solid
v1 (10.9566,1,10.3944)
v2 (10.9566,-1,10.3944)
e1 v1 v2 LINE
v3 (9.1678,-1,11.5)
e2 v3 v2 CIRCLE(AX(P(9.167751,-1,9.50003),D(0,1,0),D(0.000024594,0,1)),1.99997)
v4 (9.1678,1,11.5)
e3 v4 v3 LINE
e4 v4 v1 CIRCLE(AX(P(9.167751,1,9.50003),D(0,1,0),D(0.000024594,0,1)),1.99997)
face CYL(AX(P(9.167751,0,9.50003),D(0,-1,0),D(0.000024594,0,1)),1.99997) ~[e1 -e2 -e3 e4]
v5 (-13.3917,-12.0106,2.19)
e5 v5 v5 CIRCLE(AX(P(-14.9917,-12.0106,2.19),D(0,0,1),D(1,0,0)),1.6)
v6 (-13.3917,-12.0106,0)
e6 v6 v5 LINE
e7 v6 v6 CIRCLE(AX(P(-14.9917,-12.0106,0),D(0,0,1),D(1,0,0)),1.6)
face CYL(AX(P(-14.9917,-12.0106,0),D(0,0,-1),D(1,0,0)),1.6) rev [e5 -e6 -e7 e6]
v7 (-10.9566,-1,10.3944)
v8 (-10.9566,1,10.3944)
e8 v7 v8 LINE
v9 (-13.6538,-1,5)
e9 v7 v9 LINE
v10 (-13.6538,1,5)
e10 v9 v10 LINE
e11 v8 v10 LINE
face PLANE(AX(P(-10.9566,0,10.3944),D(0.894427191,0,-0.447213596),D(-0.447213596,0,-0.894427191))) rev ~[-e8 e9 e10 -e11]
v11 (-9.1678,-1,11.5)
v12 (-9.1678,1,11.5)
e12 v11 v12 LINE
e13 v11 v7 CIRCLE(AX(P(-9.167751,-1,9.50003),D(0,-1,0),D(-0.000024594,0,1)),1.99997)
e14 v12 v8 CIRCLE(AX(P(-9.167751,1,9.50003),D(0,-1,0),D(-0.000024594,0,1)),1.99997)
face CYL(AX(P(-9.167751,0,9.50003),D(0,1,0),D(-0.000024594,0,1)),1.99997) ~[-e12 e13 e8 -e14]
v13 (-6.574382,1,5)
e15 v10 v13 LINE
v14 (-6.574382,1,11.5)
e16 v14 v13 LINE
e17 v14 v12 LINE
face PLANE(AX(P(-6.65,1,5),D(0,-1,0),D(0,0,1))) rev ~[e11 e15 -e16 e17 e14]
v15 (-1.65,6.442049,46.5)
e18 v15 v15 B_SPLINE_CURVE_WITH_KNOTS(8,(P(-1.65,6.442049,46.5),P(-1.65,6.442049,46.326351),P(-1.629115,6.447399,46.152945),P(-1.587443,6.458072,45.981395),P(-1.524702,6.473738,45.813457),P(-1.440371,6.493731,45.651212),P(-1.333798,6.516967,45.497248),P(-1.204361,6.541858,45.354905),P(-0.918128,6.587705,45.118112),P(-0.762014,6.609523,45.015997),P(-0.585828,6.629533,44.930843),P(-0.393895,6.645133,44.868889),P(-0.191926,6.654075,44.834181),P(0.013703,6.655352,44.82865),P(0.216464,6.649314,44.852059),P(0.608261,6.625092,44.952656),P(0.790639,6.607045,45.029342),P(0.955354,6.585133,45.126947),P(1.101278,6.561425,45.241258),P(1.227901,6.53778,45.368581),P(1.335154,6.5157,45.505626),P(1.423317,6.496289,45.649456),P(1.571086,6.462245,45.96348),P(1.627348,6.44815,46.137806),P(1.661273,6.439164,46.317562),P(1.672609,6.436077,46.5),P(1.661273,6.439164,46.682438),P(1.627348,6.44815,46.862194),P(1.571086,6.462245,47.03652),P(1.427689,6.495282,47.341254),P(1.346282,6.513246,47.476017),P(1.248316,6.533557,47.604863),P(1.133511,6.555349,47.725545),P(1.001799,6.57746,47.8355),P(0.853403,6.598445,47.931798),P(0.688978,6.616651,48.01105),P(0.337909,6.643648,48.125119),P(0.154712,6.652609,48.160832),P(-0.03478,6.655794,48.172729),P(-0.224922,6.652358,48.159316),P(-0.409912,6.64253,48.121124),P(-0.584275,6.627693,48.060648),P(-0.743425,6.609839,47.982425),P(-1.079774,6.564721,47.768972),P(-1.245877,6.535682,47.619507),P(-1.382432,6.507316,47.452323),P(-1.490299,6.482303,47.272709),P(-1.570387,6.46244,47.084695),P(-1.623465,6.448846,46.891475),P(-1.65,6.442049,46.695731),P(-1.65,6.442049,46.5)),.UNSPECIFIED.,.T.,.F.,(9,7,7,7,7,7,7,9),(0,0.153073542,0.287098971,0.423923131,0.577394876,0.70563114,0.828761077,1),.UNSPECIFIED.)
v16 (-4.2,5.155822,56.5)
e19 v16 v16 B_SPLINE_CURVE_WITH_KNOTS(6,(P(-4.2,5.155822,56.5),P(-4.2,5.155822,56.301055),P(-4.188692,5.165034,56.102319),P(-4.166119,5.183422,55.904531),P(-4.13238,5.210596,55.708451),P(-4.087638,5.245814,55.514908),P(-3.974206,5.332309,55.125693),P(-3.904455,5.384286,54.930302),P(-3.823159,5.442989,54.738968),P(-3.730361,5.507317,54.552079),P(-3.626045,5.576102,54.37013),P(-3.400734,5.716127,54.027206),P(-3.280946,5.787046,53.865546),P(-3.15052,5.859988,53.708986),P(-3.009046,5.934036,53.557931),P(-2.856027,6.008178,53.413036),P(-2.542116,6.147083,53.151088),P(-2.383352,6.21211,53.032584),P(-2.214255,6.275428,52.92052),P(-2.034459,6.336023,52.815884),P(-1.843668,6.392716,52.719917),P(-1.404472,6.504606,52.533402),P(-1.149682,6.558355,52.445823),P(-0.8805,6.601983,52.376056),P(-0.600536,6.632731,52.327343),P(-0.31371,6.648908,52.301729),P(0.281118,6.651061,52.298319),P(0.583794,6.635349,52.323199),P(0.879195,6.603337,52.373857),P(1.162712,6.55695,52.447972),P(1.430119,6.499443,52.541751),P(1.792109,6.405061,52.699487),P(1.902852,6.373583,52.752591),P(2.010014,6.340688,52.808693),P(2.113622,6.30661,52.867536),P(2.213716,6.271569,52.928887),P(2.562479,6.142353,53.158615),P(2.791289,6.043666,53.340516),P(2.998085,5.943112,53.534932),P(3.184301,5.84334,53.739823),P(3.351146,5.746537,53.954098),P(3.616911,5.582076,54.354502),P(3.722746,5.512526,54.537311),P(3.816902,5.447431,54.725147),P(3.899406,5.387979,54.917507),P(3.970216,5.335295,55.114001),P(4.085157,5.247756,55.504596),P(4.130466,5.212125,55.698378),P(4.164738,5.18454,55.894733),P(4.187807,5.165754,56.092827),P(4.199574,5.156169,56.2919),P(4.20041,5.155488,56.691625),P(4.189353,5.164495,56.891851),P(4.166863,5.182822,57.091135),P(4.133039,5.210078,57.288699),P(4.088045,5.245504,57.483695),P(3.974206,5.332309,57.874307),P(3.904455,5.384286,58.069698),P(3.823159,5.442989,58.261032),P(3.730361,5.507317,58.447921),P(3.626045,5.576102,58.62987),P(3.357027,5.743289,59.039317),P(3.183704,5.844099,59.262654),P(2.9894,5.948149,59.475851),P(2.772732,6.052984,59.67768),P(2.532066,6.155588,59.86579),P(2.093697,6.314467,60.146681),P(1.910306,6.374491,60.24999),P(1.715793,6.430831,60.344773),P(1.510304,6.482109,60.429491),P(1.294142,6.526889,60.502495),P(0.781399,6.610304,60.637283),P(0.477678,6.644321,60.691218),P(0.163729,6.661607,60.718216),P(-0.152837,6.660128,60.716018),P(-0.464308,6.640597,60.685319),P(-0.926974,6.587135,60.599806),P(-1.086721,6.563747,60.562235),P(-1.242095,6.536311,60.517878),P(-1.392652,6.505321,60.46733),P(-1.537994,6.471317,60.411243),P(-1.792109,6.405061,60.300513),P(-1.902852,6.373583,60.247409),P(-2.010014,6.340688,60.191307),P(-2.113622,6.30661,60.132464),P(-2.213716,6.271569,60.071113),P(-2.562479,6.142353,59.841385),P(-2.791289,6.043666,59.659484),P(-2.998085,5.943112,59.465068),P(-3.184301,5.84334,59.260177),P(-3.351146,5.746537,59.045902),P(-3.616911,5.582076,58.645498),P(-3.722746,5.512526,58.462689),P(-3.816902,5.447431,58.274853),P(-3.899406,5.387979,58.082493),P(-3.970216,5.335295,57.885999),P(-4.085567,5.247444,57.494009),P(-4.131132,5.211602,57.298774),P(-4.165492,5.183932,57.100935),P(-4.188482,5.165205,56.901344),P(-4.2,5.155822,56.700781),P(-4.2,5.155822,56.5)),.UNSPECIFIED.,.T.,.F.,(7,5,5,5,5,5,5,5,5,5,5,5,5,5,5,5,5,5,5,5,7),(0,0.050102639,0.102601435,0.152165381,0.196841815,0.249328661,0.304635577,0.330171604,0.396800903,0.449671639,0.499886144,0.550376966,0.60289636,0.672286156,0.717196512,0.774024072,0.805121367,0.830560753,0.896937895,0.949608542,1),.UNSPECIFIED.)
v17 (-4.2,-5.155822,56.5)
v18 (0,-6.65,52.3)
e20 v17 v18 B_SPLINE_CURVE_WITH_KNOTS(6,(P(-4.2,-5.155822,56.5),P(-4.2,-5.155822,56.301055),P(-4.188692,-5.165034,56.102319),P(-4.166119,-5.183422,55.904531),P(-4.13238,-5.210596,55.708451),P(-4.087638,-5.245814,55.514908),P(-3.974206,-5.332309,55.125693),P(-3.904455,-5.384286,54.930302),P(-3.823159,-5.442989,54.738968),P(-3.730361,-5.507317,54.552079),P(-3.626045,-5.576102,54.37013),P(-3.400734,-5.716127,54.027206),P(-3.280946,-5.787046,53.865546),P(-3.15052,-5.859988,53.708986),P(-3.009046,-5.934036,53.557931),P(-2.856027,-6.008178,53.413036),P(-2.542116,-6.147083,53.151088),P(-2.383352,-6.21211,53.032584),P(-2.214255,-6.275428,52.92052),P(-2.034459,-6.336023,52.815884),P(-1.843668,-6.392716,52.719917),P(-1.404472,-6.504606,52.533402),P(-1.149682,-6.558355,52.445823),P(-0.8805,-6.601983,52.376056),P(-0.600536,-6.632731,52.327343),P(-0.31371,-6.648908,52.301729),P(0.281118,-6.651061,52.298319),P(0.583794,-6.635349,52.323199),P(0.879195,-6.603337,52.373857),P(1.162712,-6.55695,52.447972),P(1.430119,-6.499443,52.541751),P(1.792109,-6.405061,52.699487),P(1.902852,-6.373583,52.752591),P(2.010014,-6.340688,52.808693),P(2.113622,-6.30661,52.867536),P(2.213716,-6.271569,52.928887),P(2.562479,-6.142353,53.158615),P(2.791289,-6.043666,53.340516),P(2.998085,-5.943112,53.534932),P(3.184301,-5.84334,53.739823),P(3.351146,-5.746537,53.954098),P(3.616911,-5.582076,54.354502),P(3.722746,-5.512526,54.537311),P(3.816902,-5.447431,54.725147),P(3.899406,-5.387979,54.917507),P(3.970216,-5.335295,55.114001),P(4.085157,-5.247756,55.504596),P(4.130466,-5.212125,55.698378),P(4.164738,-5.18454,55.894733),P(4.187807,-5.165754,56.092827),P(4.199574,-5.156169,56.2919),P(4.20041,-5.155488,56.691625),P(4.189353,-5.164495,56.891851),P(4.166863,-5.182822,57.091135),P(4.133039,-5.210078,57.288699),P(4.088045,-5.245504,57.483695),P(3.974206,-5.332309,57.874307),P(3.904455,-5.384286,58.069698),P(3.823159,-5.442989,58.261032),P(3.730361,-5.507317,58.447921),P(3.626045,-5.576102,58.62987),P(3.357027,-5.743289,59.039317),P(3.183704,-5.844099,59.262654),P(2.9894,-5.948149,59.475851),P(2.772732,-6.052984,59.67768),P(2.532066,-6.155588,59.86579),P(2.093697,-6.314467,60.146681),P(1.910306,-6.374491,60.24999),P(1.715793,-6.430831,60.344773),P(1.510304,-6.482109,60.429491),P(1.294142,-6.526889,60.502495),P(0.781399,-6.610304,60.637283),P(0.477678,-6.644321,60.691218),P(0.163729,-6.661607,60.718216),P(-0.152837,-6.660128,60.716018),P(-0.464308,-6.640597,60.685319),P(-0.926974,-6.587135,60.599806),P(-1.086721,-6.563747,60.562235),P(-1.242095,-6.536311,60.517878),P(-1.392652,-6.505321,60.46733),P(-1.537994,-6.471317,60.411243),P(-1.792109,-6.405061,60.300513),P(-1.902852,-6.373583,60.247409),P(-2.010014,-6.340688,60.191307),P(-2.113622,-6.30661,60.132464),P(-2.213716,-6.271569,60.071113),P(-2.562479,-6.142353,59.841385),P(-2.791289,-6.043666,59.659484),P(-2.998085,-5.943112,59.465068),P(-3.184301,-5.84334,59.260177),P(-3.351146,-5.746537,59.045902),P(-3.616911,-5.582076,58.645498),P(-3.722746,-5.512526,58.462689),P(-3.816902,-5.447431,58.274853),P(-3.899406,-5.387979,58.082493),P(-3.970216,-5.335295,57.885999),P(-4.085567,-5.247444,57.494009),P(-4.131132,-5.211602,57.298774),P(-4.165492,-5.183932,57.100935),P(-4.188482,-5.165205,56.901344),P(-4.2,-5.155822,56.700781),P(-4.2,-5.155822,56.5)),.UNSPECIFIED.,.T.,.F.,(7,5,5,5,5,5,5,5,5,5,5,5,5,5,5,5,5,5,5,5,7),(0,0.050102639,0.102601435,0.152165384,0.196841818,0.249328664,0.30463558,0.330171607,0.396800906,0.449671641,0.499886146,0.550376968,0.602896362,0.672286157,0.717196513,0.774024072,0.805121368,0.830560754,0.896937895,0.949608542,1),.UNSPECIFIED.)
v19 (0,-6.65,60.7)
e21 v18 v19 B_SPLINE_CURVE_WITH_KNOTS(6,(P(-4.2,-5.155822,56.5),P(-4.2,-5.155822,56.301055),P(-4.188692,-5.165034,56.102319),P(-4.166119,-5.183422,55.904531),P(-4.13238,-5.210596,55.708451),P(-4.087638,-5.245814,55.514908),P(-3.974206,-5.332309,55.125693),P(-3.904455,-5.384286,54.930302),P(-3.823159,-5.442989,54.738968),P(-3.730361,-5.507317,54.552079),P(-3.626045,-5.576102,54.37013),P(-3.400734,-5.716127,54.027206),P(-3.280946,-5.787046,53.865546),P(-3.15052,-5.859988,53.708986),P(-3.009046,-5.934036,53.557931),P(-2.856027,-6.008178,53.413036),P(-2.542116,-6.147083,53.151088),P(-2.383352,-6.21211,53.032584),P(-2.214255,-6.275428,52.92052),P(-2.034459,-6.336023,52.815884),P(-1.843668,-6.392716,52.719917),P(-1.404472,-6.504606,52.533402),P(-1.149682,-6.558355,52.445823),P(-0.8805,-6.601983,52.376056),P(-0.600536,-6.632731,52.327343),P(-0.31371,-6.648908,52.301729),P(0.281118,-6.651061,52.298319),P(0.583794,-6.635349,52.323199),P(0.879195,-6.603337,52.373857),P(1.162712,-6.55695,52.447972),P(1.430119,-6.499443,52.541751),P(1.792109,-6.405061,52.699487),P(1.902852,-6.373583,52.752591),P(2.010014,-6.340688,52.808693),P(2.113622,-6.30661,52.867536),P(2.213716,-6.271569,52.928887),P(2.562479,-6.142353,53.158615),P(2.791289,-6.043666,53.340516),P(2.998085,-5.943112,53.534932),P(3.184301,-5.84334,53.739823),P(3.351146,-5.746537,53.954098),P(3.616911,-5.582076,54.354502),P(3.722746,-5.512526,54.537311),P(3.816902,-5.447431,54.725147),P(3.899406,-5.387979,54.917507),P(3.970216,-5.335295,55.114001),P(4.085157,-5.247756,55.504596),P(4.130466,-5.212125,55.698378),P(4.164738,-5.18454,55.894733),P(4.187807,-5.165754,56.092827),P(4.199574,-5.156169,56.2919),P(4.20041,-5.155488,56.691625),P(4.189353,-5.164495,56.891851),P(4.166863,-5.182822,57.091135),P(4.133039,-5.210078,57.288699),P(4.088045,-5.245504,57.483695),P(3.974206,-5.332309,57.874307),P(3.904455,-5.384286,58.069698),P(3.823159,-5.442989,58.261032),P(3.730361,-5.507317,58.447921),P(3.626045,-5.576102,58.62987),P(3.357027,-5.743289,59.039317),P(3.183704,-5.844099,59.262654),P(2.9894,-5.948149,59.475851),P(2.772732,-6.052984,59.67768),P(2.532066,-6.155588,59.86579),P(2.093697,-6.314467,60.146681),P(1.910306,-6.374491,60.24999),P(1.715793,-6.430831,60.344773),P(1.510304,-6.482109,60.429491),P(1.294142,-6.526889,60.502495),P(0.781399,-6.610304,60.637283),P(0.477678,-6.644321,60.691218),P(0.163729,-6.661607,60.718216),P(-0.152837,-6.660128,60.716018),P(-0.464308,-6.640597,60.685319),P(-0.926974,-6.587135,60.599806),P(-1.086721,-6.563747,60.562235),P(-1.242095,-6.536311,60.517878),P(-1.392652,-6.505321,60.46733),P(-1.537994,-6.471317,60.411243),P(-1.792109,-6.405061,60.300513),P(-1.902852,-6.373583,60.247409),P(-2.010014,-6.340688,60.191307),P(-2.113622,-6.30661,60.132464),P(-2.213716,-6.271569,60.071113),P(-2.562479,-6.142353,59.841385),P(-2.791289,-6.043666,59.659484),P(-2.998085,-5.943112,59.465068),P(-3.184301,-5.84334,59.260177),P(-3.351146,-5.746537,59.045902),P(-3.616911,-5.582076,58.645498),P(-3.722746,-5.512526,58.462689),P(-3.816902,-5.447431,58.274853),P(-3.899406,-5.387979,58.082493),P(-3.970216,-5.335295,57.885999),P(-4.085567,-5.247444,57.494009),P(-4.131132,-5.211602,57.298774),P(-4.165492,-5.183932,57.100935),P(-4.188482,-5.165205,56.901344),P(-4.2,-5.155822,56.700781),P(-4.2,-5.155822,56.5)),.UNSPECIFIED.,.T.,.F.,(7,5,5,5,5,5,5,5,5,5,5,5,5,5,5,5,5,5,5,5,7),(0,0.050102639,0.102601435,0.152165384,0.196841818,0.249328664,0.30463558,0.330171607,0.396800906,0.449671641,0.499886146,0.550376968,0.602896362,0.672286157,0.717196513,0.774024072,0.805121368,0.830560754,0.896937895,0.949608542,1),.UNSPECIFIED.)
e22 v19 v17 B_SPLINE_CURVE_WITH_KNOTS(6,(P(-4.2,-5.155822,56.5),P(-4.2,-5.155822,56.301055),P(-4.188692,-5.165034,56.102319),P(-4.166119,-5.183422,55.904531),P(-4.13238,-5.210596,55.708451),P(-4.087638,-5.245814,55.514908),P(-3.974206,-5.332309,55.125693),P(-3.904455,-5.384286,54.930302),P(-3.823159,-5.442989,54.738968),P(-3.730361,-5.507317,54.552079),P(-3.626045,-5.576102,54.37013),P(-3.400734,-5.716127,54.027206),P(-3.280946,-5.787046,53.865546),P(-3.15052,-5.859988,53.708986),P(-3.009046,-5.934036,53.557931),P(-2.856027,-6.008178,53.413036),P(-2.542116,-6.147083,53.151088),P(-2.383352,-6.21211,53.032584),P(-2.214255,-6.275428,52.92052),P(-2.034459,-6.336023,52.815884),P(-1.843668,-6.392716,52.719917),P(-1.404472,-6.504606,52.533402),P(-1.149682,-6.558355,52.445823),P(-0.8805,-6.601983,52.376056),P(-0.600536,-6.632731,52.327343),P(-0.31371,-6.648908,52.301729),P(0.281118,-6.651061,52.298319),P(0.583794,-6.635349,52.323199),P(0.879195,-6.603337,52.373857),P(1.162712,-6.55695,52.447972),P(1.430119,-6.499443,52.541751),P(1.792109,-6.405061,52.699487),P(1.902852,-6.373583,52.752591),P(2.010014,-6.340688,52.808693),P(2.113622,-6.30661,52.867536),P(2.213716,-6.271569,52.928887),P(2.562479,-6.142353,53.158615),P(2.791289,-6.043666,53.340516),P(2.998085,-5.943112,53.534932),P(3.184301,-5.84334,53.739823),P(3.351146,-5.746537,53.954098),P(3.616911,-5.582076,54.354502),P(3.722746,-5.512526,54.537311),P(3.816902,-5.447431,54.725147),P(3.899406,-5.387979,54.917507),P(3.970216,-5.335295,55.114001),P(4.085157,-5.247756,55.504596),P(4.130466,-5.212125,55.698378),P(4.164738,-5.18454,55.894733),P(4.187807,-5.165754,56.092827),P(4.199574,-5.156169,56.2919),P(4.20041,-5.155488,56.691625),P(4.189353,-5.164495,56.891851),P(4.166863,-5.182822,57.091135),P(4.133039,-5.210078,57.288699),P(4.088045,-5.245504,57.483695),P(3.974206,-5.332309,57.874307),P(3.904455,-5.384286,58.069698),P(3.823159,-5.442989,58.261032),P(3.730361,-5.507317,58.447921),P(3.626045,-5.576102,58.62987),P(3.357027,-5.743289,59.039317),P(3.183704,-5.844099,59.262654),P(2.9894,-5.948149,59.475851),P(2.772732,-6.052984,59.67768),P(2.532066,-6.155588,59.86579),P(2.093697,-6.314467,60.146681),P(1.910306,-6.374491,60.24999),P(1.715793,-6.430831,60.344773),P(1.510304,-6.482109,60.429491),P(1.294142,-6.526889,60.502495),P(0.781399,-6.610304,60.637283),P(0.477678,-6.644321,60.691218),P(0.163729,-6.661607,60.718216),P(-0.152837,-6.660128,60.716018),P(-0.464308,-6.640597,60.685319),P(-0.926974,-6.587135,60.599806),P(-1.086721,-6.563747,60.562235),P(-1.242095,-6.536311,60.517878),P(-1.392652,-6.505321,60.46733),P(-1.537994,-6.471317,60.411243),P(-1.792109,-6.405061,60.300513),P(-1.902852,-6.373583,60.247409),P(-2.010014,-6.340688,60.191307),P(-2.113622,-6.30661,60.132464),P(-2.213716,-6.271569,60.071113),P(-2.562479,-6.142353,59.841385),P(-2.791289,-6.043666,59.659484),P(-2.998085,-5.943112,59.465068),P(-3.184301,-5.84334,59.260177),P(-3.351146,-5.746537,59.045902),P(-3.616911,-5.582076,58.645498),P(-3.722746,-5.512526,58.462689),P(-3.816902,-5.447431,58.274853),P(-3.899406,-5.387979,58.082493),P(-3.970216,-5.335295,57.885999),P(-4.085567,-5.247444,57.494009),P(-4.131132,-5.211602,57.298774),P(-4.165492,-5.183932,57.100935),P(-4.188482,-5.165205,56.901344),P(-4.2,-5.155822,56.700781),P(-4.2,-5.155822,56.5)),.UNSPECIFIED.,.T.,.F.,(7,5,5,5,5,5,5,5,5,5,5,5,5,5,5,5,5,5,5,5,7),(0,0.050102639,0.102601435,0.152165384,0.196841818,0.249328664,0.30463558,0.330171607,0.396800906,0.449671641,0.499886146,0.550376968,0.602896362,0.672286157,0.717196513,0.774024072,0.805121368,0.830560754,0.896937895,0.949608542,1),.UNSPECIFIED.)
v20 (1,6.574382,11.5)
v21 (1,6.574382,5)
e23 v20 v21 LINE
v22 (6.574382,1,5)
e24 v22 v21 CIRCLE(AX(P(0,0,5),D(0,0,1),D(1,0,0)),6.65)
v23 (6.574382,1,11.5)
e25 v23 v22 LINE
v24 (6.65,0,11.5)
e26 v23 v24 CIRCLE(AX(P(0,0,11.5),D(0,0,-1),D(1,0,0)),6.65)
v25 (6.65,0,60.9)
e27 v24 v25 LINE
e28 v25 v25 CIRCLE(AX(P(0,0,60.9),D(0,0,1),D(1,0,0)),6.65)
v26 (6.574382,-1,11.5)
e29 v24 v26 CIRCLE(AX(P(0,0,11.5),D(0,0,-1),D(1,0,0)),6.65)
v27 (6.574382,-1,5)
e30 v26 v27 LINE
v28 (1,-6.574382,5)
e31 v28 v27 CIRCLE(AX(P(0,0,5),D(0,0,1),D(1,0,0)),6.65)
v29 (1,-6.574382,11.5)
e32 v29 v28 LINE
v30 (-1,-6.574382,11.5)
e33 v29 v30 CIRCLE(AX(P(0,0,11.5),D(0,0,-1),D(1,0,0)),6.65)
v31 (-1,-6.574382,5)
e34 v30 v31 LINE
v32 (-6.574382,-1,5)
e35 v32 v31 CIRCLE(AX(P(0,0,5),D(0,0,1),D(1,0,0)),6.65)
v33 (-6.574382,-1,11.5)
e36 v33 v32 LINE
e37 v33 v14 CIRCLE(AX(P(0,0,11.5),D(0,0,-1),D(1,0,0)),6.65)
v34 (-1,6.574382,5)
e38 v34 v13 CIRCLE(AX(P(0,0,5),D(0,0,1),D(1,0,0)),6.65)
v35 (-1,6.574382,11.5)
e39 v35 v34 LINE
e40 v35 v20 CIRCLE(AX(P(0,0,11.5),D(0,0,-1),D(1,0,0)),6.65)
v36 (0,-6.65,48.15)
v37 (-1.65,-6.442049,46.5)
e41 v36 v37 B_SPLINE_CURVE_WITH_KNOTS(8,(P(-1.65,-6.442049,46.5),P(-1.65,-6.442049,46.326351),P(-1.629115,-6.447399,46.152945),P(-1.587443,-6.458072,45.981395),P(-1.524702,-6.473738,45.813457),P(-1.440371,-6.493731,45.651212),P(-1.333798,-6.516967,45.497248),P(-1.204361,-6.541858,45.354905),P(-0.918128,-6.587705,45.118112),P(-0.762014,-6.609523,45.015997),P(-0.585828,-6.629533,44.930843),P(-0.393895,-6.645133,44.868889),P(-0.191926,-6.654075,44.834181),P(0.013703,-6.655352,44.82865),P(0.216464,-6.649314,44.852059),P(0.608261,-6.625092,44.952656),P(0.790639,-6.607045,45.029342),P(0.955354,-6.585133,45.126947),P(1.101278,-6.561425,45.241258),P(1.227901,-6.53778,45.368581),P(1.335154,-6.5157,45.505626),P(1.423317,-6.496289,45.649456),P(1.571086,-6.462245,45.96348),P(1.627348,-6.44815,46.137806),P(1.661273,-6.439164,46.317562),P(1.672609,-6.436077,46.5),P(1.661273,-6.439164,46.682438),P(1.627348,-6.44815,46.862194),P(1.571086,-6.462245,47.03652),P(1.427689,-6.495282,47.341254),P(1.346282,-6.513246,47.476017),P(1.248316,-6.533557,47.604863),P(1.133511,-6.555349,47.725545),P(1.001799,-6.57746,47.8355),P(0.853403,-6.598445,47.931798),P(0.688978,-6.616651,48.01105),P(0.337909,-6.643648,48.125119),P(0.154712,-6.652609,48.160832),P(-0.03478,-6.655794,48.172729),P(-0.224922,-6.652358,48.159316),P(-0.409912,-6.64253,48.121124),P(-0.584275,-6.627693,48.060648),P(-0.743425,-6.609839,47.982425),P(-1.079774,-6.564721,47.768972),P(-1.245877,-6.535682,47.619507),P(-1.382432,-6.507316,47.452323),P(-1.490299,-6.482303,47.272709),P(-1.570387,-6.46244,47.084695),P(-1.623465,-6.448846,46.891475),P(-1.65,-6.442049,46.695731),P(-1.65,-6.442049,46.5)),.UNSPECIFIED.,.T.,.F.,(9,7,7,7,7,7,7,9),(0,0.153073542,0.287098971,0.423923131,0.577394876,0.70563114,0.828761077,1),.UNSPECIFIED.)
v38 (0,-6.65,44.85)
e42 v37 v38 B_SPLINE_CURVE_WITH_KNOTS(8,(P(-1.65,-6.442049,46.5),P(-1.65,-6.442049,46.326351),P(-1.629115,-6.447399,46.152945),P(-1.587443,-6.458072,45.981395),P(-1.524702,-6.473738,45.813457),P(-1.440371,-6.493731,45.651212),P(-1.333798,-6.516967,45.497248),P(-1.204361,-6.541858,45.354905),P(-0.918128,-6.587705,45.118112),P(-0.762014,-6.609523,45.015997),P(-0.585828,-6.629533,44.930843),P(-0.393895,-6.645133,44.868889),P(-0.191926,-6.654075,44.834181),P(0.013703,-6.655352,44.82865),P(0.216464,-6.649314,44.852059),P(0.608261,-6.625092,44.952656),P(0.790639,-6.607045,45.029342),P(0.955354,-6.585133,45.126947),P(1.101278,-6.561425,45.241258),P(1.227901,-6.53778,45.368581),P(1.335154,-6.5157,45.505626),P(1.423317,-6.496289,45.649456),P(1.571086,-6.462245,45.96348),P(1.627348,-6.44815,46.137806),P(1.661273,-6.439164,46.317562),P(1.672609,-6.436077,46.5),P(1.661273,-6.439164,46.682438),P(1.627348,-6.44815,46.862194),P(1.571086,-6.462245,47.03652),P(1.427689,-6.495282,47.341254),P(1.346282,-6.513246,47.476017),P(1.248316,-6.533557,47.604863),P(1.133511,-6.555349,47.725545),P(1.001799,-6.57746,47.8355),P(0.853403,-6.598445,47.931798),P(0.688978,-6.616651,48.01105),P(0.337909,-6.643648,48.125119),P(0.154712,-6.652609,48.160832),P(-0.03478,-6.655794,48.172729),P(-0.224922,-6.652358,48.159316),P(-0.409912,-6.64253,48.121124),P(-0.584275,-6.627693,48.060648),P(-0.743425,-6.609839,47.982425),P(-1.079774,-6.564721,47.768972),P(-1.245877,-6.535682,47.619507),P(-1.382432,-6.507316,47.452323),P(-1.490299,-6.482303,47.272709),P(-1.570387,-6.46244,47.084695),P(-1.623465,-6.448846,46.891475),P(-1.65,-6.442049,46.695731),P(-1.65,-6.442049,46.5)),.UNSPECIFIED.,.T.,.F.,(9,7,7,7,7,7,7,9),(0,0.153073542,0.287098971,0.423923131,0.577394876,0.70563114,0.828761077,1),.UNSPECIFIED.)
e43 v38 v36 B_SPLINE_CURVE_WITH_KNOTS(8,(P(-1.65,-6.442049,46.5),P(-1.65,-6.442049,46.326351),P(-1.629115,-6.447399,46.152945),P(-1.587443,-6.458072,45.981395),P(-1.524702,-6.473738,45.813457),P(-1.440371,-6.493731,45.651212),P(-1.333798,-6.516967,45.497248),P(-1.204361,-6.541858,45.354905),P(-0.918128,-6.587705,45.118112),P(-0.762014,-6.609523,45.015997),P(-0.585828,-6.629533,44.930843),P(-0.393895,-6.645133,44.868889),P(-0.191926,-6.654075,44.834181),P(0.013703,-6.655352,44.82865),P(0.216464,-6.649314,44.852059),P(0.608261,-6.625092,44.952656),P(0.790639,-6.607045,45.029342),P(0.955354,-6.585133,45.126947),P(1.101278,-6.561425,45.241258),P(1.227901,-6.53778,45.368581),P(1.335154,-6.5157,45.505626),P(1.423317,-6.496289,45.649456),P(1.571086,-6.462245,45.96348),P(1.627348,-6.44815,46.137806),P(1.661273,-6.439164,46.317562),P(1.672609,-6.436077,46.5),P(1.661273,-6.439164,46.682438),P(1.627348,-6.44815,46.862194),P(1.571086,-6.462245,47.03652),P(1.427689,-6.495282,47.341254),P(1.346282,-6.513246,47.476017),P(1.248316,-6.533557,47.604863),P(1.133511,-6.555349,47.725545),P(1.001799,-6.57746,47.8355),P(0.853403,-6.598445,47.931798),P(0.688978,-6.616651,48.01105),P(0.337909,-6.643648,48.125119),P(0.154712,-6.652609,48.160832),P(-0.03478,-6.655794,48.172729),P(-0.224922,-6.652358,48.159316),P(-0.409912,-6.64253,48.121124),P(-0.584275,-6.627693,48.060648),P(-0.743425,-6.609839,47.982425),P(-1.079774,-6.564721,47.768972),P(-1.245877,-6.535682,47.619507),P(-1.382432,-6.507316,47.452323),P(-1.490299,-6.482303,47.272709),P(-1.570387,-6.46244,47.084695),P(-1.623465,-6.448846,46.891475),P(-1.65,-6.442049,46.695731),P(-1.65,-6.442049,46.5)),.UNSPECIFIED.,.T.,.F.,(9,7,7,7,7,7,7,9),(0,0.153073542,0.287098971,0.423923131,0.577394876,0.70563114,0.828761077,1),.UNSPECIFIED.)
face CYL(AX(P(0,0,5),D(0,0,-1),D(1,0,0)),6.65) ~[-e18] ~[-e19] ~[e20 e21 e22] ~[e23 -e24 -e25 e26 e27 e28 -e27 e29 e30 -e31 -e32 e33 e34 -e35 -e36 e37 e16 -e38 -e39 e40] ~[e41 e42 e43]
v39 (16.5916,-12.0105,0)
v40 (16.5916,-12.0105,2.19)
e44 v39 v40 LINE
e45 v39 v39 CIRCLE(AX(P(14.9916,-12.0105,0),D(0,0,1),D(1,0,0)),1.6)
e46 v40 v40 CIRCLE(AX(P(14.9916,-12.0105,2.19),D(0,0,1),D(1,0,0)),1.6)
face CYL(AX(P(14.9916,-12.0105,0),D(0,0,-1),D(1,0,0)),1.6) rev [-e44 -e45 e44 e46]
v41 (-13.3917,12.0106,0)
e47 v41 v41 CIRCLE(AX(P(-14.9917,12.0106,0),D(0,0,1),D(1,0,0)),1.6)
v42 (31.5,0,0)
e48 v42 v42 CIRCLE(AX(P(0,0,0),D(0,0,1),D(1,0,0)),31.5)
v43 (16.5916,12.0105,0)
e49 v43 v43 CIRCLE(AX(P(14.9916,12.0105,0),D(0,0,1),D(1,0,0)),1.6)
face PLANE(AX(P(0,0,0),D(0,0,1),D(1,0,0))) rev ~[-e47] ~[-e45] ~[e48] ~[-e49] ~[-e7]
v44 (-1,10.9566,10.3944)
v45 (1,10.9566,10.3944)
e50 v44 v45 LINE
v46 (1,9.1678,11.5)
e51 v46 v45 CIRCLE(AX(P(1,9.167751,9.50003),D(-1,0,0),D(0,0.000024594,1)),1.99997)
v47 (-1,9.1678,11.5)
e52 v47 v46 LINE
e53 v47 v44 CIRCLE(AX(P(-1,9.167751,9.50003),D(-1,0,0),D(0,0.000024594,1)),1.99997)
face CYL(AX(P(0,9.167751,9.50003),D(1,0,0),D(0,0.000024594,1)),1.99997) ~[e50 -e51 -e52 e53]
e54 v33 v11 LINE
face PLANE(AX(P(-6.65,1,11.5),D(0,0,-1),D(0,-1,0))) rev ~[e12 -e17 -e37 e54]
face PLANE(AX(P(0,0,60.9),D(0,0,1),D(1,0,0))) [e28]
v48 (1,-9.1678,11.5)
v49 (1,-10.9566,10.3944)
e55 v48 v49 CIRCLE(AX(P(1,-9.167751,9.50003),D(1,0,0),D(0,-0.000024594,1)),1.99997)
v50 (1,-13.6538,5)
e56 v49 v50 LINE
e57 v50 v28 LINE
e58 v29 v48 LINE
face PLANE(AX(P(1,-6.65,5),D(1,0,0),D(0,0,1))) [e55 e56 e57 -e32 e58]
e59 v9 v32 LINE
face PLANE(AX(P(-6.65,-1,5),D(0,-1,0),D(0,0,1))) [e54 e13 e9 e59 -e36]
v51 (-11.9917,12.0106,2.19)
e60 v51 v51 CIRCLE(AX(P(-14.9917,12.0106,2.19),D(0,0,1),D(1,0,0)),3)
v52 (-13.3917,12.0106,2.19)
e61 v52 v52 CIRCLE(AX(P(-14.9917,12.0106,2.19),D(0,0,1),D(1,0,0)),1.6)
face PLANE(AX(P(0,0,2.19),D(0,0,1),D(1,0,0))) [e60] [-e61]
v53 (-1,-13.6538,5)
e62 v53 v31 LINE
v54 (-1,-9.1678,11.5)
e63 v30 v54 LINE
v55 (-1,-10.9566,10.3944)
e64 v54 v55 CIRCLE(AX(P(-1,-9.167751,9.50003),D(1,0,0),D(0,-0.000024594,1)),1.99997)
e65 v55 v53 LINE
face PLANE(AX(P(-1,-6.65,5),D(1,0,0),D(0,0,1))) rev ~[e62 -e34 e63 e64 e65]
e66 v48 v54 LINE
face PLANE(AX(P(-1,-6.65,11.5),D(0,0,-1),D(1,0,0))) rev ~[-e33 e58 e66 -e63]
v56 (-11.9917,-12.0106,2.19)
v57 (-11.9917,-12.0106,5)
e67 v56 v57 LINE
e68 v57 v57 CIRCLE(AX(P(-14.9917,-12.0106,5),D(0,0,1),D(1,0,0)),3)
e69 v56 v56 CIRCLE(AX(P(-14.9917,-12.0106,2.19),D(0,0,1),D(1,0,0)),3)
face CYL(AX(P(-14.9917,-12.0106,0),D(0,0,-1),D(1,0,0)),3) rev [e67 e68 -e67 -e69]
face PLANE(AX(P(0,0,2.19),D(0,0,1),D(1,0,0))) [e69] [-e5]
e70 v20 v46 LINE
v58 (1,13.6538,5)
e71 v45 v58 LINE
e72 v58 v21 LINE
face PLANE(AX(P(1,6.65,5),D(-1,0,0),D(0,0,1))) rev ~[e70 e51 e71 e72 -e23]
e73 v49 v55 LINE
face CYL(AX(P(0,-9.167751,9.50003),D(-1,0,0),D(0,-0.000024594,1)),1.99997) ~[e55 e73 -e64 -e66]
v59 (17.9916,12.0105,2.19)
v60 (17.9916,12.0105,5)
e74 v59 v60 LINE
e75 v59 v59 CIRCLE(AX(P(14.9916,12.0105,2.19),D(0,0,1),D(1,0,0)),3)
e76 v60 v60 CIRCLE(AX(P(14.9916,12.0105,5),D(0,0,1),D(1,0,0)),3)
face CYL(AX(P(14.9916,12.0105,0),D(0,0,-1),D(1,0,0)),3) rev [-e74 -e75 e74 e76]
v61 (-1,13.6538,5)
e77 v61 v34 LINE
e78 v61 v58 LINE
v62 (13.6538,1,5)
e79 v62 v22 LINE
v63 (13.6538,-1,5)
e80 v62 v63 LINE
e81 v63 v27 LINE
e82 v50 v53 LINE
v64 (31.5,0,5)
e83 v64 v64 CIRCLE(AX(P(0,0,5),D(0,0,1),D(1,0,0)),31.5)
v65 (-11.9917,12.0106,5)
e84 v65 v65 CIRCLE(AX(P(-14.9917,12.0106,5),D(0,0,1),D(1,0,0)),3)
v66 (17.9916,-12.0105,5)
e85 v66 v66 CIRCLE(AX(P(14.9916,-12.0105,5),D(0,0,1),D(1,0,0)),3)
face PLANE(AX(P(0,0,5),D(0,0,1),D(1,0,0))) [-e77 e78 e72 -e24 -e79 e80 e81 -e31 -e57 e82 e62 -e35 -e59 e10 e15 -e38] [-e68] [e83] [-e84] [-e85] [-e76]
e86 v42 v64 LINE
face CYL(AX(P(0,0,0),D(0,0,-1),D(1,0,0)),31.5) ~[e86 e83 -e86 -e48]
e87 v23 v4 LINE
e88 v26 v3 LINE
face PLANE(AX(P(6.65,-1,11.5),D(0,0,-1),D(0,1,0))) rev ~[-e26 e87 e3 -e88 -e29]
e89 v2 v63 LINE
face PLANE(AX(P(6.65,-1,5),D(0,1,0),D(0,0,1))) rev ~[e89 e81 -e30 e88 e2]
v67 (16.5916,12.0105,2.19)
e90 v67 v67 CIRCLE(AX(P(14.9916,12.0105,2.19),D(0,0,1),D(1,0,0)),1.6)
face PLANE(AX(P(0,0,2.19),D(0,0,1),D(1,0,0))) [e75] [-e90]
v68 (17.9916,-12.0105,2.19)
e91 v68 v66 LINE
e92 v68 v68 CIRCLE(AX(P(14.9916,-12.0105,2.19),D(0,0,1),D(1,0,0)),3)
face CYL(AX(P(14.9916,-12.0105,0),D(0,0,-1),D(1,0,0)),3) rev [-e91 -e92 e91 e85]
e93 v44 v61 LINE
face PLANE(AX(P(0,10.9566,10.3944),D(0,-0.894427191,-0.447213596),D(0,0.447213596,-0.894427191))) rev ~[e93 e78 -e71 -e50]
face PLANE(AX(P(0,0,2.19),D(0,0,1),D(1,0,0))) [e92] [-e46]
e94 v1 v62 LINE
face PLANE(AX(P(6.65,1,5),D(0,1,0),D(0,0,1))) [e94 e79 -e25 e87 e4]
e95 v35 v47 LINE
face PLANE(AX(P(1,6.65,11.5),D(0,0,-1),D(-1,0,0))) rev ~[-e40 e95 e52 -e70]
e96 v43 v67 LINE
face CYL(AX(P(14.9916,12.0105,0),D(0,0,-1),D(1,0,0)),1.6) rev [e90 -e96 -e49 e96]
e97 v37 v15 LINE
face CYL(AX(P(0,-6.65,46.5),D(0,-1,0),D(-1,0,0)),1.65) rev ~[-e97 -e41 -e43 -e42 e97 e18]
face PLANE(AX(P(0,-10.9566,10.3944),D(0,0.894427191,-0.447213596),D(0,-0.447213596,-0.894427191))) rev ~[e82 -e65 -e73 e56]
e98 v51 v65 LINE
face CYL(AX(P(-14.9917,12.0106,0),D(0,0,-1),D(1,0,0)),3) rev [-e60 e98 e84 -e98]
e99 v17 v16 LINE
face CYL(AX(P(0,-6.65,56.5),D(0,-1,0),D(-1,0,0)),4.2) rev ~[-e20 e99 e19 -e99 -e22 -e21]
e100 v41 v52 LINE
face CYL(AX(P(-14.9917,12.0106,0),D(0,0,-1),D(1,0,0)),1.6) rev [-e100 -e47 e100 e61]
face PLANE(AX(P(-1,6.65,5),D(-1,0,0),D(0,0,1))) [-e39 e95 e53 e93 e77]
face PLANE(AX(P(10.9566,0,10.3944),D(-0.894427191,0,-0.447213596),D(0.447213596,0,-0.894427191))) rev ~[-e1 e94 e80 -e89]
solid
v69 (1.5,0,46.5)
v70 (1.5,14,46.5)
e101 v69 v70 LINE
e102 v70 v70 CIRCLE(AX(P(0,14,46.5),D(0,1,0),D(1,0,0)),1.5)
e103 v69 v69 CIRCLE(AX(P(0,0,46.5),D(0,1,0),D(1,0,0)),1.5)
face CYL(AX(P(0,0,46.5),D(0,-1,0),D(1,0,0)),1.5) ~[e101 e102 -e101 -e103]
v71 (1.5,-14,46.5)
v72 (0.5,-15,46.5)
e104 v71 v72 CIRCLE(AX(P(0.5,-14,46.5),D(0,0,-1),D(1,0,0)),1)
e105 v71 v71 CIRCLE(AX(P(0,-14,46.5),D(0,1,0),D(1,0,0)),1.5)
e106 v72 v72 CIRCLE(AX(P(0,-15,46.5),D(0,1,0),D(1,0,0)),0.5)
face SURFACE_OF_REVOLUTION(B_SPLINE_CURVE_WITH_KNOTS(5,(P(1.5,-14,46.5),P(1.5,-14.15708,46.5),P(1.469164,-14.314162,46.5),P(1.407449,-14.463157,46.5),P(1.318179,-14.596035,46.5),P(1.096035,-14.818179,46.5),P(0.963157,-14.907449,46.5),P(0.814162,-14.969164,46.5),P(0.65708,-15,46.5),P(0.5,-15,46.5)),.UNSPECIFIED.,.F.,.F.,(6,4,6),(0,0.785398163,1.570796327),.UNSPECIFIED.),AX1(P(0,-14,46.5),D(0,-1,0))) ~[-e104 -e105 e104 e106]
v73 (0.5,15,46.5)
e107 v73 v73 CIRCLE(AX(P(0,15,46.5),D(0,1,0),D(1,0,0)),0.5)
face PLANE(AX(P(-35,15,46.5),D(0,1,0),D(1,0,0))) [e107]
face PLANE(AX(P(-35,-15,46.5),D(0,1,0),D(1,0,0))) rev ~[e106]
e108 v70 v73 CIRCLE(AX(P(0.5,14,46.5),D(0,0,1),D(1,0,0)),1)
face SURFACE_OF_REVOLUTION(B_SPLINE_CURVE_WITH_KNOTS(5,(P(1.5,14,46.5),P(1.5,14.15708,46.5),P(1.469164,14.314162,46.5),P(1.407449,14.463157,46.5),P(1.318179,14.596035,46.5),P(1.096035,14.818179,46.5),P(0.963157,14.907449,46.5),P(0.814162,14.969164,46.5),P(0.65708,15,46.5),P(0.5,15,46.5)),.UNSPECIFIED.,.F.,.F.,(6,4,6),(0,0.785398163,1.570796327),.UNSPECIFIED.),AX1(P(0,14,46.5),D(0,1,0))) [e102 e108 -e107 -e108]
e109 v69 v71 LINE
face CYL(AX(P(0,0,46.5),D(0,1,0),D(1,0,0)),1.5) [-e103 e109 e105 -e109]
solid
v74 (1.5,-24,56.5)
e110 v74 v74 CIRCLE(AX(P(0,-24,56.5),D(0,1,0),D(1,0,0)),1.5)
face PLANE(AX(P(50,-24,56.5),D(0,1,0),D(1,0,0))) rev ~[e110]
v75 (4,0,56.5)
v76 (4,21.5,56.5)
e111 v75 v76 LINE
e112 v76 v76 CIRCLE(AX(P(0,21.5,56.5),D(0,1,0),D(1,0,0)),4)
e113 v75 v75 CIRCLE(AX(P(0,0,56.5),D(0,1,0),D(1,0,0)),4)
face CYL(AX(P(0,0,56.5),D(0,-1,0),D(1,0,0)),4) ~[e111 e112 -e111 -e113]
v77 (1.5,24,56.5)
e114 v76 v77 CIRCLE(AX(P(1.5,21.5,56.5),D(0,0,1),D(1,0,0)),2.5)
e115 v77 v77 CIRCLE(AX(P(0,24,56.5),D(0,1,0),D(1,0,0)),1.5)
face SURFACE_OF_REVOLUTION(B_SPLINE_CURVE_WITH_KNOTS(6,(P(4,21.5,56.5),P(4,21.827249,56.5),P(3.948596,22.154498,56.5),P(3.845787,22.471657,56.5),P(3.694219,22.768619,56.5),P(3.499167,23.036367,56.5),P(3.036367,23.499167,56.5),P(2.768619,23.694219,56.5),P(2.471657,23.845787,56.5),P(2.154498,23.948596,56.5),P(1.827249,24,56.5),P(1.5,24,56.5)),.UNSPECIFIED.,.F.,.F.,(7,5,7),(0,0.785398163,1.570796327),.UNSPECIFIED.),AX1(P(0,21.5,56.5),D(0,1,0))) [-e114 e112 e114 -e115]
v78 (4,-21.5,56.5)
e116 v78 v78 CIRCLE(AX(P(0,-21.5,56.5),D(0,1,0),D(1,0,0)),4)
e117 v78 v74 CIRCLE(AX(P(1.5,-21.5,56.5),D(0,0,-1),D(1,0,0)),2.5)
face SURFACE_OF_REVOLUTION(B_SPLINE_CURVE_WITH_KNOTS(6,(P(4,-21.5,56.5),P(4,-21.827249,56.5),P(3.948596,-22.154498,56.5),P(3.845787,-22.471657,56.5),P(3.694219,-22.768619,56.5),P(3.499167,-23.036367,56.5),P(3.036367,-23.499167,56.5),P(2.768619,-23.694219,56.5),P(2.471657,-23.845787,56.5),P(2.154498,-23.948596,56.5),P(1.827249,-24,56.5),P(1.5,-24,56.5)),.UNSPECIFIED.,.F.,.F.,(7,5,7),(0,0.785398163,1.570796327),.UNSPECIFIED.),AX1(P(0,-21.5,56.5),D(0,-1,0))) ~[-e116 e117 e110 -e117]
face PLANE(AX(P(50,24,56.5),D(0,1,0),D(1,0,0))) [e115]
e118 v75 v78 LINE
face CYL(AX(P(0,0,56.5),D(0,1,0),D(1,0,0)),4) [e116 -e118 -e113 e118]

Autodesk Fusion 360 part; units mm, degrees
sketch "Sketch1" plane through (0, 0, 0) normal (0, 0, 1) x (1, 0, 0)
  line L0 (-25, 9) -> (-25, -9)
  line L1 (25, -9) -> (25, 9)
  line L2 (25, 9) -> (25, -9)
  line L3 (-25, -9) -> (-25, 9)
  ellipse E0 centre (-7.4315, -9) end of major axis (-25, -9) minor radius 15 (10.1172, -9.7125) -> (10.137, -9) ccw
  ellipse E1 centre (7.4315, -9) end of major axis (25, -9) minor radius 15 (7.4315, -24) -> (25, -9) ccw
  ellipse E2 centre (7.4315, -9) end of major axis (25, -9) minor radius 15 (-7.4315, -16.9977) -> (-5.8325, -18.8361) ccw
  ellipse E3 centre (7.4315, -9) end of major axis (25, -9) minor radius 15 (-10.137, -9) -> (-10.1172, -9.7125) ccw
  ellipse E4 centre (-7.4315, -9) end of major axis (-25, -9) minor radius 15 (-25, -9) -> (-7.4315, -24) ccw
  ellipse E5 centre (-7.4315, 9) end of major axis (-25, 9) minor radius 15 (-7.4315, 24) -> (-25, 9) ccw
  ellipse E6 centre (7.4315, 9) end of major axis (25, 9) minor radius 15 (25, 9) -> (7.4315, 24) ccw
  ellipse E7 centre (7.4315, 9) end of major axis (25, 9) minor radius 15 (-10.1172, 9.7125) -> (-10.137, 9) ccw
  circle A0 centre (14.9916, 12.0105) radius 3
  circle A1 centre (-14.9917, 12.0106) radius 3
  circle A2 centre (-14.9917, -12.0106) radius 3
  circle A3 centre (14.9916, -12.0105) radius 3
  line L4 (2.798, -22) -> (-2.798, -22)
  line L5 (-2.798, -22) -> (-2.798, -24)
  line L6 (2.798, -24) -> (2.798, -22)
  line L7 (-7.4315, -24) -> (-2.798, -24)
  line L8 (2.798, -24) -> (7.4315, -24)
  line L9 (-2.798, 22) -> (-2.798, 24)
  line L10 (2.798, 22) -> (-2.798, 22)
  line L11 (2.798, 24) -> (2.798, 22)
  line L12 (7.4315, 24) -> (2.798, 24)
  line L13 (-2.798, 24) -> (-7.4315, 24)
  circle A4 centre (14.9916, 12.0105) radius 1.6
  circle A5 centre (-14.9917, 12.0106) radius 1.6
  circle A6 centre (14.9916, -12.0105) radius 1.6
  circle A7 centre (-14.9917, -12.0106) radius 1.6
  circle A8 centre (0, 0) radius 31.5
  dimension "d3" = 50
  dimension "d4" = 18
  dimension "d5" = 14.863
  dimension "d6" = 48
  dimension "d12" = 6
  dimension "d14" = 6
  dimension "d19" = 3.2
  dimension "d20" = 3.2
  dimension "d59" = 63
extrude "Extrude1" add sketch "Sketch1" along normal blind 5 contours L0 L1 L2 L3 E1 E4 E5 E6 L4 L5 L6 L7 L8 L9 L10 L11 L12 L13 | A8 makes body 1
extrude "Extrude2" add sketch "Sketch1" along normal blind 2.19 contours A0 | A1 | A2 | A3 bodies 1
ref_plane "WorkPlane1" through (0, 0, 5) normal (0, 0, 1) x (1, 0, 0)
sketch "Sketch2" plane through (0, 0, 5) normal (0, 0, 1) x (1, 0, 0)
  circle A0 centre (0, 0) radius 6.65
  dimension "d24" = 13.3
extrude "Extrude3" add sketch "Sketch2" along normal blind 58 bodies 1
ref_plane "WorkPlane2" through (0, -6.65, 36.3746) normal (0, -1, 0) x (-1, 0, 0)
sketch "Sketch3" plane through (0, -6.65, 0) normal (0, -1, 0) x (-1, 0, 0)
  circle A0 centre (0, -46.5) radius 1.65
  circle A1 centre (0, -56.5) radius 4.2
  line L0 (6.65, -60.7) -> (-6.65, -60.7)
  line L1 (-6.65, -63) -> (6.65, -63) construction
  line L2 (6.65, -5) -> (-6.65, -5) construction
  line L3 (-6.65, -63) -> (-6.65, -49.3707) construction
  line L4 (6.65, -63) -> (6.65, -55) construction
  line L5 (0, -60.7) -> (0, -63)
  dimension "d28" = 3.3
  dimension "d29" = 46.5
  dimension "d30" = 8.4
  dimension "d31" = 56.5
extrude "Extrude6" cut sketch "Sketch3" against normal blind 21 bodies 1
extrude "Extrude9" cut 1 faces at (2.5195, 0.3798, 63) along direction (0, 0, -1) blind 2 on bodies 1 bodies 1
copy_body "Body->Comp2" bodies 1 removing the originals makes body 2 in component "Base"
sketch "Sketch1 (2)" plane through (0, 0, 0) normal (0, 1, 0) x (1, 0, 0) in component "Small Pin"
  circle A0 centre (35, 0) radius 1.5
  dimension "d40" = 3
extrude "Extrude1'" add sketch "Sketch1 (2)" along normal mid plane 30 separate body makes body 3 in component "Small Pin"
fillet "Fillet1" radius 1 2 edges at (33.6015, 15, 0.5424) (33.6015, -15, -0.5424) on bodies 3 in component "Small Pin"
sketch "Sketch1 (3)" plane through (0, 0, 0) normal (0, 1, 0) x (1, 0, 0) in component "Big Pin"
  circle A0 centre (-50, 0) radius 4
  dimension "d45" = 8
extrude "Extrude1''" add sketch "Sketch1 (3)" along normal mid plane 48 separate body makes body 4 in component "Big Pin"
fillet "Fillet1'" radius 2.5 2 edges at (-53.7293, 24, 1.4465) (-53.7293, -24, -1.4465) on bodies 4 in component "Big Pin"
sketch "Sketch5" plane through (0, 0, 0) normal (0, 1, 0) x (1, 0, 0)
  line L0 (6.65, -5) -> (-6.65, -5)
  spline S0 degree 3 poles (-4.2, -56.5) (-4.2, -55.9513) (-4.0871, -55.3837) (-3.6549, -54.3571) (-3.3357, -53.896) (-2.607, -53.1674) (-2.1451, -52.8461) (-1.1141, -52.412) (-0.5441, -52.3) (0.5441, -52.3) (1.1141, -52.412) (2.1451, -52.8461) (2.607, -53.1674) (3.3357, -53.896) (3.6549, -54.3571) (4.0871, -55.3837) (4.2, -55.9513) (4.2, -57.0487) (4.0871, -57.6163) (3.6549, -58.6429) (3.3357, -59.104) (2.607, -59.8326) (2.1451, -60.1539) (1.1141, -60.588) (0.5441, -60.7) (-0.5441, -60.7) (-1.1141, -60.588) (-2.1451, -60.1539) (-2.607, -59.8326) (-3.3357, -59.104) (-3.6549, -58.6429) (-4.0871, -57.6163) (-4.2, -57.0487) (-4.2, -56.5) knots 0 0 0 0 0.164599 0.164599 0.329199 0.329199 0.492427 0.492427 0.655655 0.655655 0.818884 0.818884 0.982112 0.982112 1.146711 1.146711 1.311311 1.311311 1.47591 1.47591 1.64051 1.64051 1.803738 1.803738 1.966966 1.966966 2.130195 2.130195 2.293423 2.293423 2.458022 2.458022 2.622622 2.622622 2.622622 2.622622
  spline S1 degree 3 poles (-1.65, -46.5) (-1.65, -46.2919) (-1.6082, -46.0705) (-1.4396, -45.6642) (-1.3127, -45.4793) (-1.0207, -45.1873) (-0.8358, -45.0604) (-0.4295, -44.8918) (-0.2081, -44.85) (0.2081, -44.85) (0.4295, -44.8918) (0.8358, -45.0604) (1.0207, -45.1873) (1.3127, -45.4793) (1.4396, -45.6642) (1.6082, -46.0705) (1.65, -46.2919) (1.65, -46.7081) (1.6082, -46.9295) (1.4396, -47.3358) (1.3127, -47.5207) (1.0207, -47.8127) (0.8358, -47.9396) (0.4295, -48.1082) (0.2081, -48.15) (-0.2081, -48.15) (-0.4295, -48.1082) (-0.8358, -47.9396) (-1.0207, -47.8127) (-1.3127, -47.5207) (-1.4396, -47.3358) (-1.6082, -46.9295) (-1.65, -46.7081) (-1.65, -46.5) knots 0 0 0 0 0.062439 0.062439 0.124879 0.124879 0.18731 0.18731 0.249741 0.249741 0.312172 0.312172 0.374603 0.374603 0.437042 0.437042 0.499481 0.499481 0.561921 0.561921 0.62436 0.62436 0.686791 0.686791 0.749222 0.749222 0.811653 0.811653 0.874084 0.874084 0.936523 0.936523 0.998963 0.998963 0.998963 0.998963
  line L1 (6.65, -5) -> (6.65, -11.5)
  line L2 (6.65, -11.5) -> (9.1678, -11.5)
  line L3 (10.9566, -10.3944) -> (13.6538, -5)
  line L4 (13.6538, -5) -> (6.65, -5)
  arc A0 (9.1678, -11.5) -> (10.9566, -10.3944) centre (9.1678, -9.5) ccw
  spline S2 degree 3 poles (0, -60.7) (0.5441, -60.7) (1.1141, -60.588) (2.1451, -60.1539) (2.607, -59.8326) (3.3357, -59.104) (3.6549, -58.6429) (4.0871, -57.6163) (4.2, -57.0487) (4.2, -55.9513) (4.0871, -55.3837) (3.6549, -54.3571) (3.3357, -53.896) (2.607, -53.1674) (2.1451, -52.8461) (1.1141, -52.412) (0.5441, -52.3) (0, -52.3) knots 0.655655 0.655655 0.655655 0.655655 0.818884 0.818884 0.982112 0.982112 1.146711 1.146711 1.311311 1.311311 1.47591 1.47591 1.64051 1.64051 1.803738 1.803738 1.966966 1.966966 1.966966 1.966966
  spline S3 degree 3 poles (0, -48.15) (0.2081, -48.15) (0.4295, -48.1082) (0.8358, -47.9396) (1.0207, -47.8127) (1.3127, -47.5207) (1.4396, -47.3358) (1.6082, -46.9295) (1.65, -46.7081) (1.65, -46.2919) (1.6082, -46.0705) (1.4396, -45.6642) (1.3127, -45.4793) (1.0207, -45.1873) (0.8358, -45.0604) (0.4295, -44.8918) (0.2081, -44.85) (0, -44.85) knots 0.249741 0.249741 0.249741 0.249741 0.312172 0.312172 0.374603 0.374603 0.437042 0.437042 0.499481 0.499481 0.561921 0.561921 0.62436 0.62436 0.686791 0.686791 0.749222 0.749222 0.749222 0.749222
  line L5 (6.65, -61) -> (-6.65, -61)
  spline S4 degree 3 poles (0, -44.85) (-0.2081, -44.85) (-0.4295, -44.8918) (-0.8358, -45.0604) (-1.0207, -45.1873) (-1.3127, -45.4793) (-1.4396, -45.6642) (-1.6082, -46.0705) (-1.65, -46.2919) (-1.65, -46.5) (-1.65, -46.7081) (-1.6082, -46.9295) (-1.4396, -47.3358) (-1.3127, -47.5207) (-1.0207, -47.8127) (-0.8358, -47.9396) (-0.4295, -48.1082) (-0.2081, -48.15) (0, -48.15) knots 0.749222 0.749222 0.749222 0.749222 0.811653 0.811653 0.874084 0.874084 0.936523 0.936523 0.998963 0.998963 0.998963 1.061402 1.061402 1.123842 1.123842 1.186272 1.186272 1.248703 1.248703 1.248703 1.248703
  spline S5 degree 3 poles (0, -52.3) (-0.5441, -52.3) (-1.1141, -52.412) (-2.1451, -52.8461) (-2.607, -53.1674) (-3.3357, -53.896) (-3.6549, -54.3571) (-4.0871, -55.3837) (-4.2, -55.9513) (-4.2, -56.5) (-4.2, -57.0487) (-4.0871, -57.6163) (-3.6549, -58.6429) (-3.3357, -59.104) (-2.607, -59.8326) (-2.1451, -60.1539) (-1.1141, -60.588) (-0.5441, -60.7) (0, -60.7) knots 1.966966 1.966966 1.966966 1.966966 2.130195 2.130195 2.293423 2.293423 2.458022 2.458022 2.622622 2.622622 2.622622 2.787221 2.787221 2.951821 2.951821 3.115049 3.115049 3.278277 3.278277 3.278277 3.278277
  dimension "d65" = 2
  dimension "d72" = 6.5
  dimension "d73" = 7.0038
extrude "Extrude7" add sketch "Sketch5" along normal mid plane 2 separate body contours L1 L2 L3 L4 A0 makes body 5
extrude "Extrude8" add 1 faces at (6.65, 0.3333, 9.3333) along direction (-1, 0, 0) blind 0.3 on bodies 5 bodies 5
pattern_circular "C-Pattern1" count 4 over 360 about axis through (0, 0, -23.25) along (0, 0, 1) of bodies 5 makes body 6 at (-1, 10.4202, 6.7981) makes body 7 at (-10.4202, -1, 6.7981) makes body 8 at (1, -10.4202, 6.7981)
combine "Combine1" operation add target body 2 tool bodies 5 6 7 8 in component "Base"
extrude "Extrude2'" cut 1 faces at (2.5195, 0.3798, 61) along direction (0, 0, -1) blind 0.1 on bodies 2 bodies 2 in component "Base"
component "Small Pin" placed x (1, 0, 0) y (0, 1, 0) z (0, 0, 1) at (-35, 0, 46.5)
component "Big Pin" placed x (1, 0, 0) y (0, 1, 0) z (0, 0, 1) at (50, 0, 56.5)
component "Base" placed x (1, 0, 0) y (0, 1, 0) z (0, 0, 1) at (0, 0, 0)
equation "d21 = 5 mm - 2.81 mm"
equation "d24 = ( 13.3 * Ratio ) * 1 mm"
equation "d41 = ( 30 * Ratio ) * 1 mm"
equation "d46 = ( 48 * Ratio ) * 1 mm"
equation "Ratio = 63 / 63"
